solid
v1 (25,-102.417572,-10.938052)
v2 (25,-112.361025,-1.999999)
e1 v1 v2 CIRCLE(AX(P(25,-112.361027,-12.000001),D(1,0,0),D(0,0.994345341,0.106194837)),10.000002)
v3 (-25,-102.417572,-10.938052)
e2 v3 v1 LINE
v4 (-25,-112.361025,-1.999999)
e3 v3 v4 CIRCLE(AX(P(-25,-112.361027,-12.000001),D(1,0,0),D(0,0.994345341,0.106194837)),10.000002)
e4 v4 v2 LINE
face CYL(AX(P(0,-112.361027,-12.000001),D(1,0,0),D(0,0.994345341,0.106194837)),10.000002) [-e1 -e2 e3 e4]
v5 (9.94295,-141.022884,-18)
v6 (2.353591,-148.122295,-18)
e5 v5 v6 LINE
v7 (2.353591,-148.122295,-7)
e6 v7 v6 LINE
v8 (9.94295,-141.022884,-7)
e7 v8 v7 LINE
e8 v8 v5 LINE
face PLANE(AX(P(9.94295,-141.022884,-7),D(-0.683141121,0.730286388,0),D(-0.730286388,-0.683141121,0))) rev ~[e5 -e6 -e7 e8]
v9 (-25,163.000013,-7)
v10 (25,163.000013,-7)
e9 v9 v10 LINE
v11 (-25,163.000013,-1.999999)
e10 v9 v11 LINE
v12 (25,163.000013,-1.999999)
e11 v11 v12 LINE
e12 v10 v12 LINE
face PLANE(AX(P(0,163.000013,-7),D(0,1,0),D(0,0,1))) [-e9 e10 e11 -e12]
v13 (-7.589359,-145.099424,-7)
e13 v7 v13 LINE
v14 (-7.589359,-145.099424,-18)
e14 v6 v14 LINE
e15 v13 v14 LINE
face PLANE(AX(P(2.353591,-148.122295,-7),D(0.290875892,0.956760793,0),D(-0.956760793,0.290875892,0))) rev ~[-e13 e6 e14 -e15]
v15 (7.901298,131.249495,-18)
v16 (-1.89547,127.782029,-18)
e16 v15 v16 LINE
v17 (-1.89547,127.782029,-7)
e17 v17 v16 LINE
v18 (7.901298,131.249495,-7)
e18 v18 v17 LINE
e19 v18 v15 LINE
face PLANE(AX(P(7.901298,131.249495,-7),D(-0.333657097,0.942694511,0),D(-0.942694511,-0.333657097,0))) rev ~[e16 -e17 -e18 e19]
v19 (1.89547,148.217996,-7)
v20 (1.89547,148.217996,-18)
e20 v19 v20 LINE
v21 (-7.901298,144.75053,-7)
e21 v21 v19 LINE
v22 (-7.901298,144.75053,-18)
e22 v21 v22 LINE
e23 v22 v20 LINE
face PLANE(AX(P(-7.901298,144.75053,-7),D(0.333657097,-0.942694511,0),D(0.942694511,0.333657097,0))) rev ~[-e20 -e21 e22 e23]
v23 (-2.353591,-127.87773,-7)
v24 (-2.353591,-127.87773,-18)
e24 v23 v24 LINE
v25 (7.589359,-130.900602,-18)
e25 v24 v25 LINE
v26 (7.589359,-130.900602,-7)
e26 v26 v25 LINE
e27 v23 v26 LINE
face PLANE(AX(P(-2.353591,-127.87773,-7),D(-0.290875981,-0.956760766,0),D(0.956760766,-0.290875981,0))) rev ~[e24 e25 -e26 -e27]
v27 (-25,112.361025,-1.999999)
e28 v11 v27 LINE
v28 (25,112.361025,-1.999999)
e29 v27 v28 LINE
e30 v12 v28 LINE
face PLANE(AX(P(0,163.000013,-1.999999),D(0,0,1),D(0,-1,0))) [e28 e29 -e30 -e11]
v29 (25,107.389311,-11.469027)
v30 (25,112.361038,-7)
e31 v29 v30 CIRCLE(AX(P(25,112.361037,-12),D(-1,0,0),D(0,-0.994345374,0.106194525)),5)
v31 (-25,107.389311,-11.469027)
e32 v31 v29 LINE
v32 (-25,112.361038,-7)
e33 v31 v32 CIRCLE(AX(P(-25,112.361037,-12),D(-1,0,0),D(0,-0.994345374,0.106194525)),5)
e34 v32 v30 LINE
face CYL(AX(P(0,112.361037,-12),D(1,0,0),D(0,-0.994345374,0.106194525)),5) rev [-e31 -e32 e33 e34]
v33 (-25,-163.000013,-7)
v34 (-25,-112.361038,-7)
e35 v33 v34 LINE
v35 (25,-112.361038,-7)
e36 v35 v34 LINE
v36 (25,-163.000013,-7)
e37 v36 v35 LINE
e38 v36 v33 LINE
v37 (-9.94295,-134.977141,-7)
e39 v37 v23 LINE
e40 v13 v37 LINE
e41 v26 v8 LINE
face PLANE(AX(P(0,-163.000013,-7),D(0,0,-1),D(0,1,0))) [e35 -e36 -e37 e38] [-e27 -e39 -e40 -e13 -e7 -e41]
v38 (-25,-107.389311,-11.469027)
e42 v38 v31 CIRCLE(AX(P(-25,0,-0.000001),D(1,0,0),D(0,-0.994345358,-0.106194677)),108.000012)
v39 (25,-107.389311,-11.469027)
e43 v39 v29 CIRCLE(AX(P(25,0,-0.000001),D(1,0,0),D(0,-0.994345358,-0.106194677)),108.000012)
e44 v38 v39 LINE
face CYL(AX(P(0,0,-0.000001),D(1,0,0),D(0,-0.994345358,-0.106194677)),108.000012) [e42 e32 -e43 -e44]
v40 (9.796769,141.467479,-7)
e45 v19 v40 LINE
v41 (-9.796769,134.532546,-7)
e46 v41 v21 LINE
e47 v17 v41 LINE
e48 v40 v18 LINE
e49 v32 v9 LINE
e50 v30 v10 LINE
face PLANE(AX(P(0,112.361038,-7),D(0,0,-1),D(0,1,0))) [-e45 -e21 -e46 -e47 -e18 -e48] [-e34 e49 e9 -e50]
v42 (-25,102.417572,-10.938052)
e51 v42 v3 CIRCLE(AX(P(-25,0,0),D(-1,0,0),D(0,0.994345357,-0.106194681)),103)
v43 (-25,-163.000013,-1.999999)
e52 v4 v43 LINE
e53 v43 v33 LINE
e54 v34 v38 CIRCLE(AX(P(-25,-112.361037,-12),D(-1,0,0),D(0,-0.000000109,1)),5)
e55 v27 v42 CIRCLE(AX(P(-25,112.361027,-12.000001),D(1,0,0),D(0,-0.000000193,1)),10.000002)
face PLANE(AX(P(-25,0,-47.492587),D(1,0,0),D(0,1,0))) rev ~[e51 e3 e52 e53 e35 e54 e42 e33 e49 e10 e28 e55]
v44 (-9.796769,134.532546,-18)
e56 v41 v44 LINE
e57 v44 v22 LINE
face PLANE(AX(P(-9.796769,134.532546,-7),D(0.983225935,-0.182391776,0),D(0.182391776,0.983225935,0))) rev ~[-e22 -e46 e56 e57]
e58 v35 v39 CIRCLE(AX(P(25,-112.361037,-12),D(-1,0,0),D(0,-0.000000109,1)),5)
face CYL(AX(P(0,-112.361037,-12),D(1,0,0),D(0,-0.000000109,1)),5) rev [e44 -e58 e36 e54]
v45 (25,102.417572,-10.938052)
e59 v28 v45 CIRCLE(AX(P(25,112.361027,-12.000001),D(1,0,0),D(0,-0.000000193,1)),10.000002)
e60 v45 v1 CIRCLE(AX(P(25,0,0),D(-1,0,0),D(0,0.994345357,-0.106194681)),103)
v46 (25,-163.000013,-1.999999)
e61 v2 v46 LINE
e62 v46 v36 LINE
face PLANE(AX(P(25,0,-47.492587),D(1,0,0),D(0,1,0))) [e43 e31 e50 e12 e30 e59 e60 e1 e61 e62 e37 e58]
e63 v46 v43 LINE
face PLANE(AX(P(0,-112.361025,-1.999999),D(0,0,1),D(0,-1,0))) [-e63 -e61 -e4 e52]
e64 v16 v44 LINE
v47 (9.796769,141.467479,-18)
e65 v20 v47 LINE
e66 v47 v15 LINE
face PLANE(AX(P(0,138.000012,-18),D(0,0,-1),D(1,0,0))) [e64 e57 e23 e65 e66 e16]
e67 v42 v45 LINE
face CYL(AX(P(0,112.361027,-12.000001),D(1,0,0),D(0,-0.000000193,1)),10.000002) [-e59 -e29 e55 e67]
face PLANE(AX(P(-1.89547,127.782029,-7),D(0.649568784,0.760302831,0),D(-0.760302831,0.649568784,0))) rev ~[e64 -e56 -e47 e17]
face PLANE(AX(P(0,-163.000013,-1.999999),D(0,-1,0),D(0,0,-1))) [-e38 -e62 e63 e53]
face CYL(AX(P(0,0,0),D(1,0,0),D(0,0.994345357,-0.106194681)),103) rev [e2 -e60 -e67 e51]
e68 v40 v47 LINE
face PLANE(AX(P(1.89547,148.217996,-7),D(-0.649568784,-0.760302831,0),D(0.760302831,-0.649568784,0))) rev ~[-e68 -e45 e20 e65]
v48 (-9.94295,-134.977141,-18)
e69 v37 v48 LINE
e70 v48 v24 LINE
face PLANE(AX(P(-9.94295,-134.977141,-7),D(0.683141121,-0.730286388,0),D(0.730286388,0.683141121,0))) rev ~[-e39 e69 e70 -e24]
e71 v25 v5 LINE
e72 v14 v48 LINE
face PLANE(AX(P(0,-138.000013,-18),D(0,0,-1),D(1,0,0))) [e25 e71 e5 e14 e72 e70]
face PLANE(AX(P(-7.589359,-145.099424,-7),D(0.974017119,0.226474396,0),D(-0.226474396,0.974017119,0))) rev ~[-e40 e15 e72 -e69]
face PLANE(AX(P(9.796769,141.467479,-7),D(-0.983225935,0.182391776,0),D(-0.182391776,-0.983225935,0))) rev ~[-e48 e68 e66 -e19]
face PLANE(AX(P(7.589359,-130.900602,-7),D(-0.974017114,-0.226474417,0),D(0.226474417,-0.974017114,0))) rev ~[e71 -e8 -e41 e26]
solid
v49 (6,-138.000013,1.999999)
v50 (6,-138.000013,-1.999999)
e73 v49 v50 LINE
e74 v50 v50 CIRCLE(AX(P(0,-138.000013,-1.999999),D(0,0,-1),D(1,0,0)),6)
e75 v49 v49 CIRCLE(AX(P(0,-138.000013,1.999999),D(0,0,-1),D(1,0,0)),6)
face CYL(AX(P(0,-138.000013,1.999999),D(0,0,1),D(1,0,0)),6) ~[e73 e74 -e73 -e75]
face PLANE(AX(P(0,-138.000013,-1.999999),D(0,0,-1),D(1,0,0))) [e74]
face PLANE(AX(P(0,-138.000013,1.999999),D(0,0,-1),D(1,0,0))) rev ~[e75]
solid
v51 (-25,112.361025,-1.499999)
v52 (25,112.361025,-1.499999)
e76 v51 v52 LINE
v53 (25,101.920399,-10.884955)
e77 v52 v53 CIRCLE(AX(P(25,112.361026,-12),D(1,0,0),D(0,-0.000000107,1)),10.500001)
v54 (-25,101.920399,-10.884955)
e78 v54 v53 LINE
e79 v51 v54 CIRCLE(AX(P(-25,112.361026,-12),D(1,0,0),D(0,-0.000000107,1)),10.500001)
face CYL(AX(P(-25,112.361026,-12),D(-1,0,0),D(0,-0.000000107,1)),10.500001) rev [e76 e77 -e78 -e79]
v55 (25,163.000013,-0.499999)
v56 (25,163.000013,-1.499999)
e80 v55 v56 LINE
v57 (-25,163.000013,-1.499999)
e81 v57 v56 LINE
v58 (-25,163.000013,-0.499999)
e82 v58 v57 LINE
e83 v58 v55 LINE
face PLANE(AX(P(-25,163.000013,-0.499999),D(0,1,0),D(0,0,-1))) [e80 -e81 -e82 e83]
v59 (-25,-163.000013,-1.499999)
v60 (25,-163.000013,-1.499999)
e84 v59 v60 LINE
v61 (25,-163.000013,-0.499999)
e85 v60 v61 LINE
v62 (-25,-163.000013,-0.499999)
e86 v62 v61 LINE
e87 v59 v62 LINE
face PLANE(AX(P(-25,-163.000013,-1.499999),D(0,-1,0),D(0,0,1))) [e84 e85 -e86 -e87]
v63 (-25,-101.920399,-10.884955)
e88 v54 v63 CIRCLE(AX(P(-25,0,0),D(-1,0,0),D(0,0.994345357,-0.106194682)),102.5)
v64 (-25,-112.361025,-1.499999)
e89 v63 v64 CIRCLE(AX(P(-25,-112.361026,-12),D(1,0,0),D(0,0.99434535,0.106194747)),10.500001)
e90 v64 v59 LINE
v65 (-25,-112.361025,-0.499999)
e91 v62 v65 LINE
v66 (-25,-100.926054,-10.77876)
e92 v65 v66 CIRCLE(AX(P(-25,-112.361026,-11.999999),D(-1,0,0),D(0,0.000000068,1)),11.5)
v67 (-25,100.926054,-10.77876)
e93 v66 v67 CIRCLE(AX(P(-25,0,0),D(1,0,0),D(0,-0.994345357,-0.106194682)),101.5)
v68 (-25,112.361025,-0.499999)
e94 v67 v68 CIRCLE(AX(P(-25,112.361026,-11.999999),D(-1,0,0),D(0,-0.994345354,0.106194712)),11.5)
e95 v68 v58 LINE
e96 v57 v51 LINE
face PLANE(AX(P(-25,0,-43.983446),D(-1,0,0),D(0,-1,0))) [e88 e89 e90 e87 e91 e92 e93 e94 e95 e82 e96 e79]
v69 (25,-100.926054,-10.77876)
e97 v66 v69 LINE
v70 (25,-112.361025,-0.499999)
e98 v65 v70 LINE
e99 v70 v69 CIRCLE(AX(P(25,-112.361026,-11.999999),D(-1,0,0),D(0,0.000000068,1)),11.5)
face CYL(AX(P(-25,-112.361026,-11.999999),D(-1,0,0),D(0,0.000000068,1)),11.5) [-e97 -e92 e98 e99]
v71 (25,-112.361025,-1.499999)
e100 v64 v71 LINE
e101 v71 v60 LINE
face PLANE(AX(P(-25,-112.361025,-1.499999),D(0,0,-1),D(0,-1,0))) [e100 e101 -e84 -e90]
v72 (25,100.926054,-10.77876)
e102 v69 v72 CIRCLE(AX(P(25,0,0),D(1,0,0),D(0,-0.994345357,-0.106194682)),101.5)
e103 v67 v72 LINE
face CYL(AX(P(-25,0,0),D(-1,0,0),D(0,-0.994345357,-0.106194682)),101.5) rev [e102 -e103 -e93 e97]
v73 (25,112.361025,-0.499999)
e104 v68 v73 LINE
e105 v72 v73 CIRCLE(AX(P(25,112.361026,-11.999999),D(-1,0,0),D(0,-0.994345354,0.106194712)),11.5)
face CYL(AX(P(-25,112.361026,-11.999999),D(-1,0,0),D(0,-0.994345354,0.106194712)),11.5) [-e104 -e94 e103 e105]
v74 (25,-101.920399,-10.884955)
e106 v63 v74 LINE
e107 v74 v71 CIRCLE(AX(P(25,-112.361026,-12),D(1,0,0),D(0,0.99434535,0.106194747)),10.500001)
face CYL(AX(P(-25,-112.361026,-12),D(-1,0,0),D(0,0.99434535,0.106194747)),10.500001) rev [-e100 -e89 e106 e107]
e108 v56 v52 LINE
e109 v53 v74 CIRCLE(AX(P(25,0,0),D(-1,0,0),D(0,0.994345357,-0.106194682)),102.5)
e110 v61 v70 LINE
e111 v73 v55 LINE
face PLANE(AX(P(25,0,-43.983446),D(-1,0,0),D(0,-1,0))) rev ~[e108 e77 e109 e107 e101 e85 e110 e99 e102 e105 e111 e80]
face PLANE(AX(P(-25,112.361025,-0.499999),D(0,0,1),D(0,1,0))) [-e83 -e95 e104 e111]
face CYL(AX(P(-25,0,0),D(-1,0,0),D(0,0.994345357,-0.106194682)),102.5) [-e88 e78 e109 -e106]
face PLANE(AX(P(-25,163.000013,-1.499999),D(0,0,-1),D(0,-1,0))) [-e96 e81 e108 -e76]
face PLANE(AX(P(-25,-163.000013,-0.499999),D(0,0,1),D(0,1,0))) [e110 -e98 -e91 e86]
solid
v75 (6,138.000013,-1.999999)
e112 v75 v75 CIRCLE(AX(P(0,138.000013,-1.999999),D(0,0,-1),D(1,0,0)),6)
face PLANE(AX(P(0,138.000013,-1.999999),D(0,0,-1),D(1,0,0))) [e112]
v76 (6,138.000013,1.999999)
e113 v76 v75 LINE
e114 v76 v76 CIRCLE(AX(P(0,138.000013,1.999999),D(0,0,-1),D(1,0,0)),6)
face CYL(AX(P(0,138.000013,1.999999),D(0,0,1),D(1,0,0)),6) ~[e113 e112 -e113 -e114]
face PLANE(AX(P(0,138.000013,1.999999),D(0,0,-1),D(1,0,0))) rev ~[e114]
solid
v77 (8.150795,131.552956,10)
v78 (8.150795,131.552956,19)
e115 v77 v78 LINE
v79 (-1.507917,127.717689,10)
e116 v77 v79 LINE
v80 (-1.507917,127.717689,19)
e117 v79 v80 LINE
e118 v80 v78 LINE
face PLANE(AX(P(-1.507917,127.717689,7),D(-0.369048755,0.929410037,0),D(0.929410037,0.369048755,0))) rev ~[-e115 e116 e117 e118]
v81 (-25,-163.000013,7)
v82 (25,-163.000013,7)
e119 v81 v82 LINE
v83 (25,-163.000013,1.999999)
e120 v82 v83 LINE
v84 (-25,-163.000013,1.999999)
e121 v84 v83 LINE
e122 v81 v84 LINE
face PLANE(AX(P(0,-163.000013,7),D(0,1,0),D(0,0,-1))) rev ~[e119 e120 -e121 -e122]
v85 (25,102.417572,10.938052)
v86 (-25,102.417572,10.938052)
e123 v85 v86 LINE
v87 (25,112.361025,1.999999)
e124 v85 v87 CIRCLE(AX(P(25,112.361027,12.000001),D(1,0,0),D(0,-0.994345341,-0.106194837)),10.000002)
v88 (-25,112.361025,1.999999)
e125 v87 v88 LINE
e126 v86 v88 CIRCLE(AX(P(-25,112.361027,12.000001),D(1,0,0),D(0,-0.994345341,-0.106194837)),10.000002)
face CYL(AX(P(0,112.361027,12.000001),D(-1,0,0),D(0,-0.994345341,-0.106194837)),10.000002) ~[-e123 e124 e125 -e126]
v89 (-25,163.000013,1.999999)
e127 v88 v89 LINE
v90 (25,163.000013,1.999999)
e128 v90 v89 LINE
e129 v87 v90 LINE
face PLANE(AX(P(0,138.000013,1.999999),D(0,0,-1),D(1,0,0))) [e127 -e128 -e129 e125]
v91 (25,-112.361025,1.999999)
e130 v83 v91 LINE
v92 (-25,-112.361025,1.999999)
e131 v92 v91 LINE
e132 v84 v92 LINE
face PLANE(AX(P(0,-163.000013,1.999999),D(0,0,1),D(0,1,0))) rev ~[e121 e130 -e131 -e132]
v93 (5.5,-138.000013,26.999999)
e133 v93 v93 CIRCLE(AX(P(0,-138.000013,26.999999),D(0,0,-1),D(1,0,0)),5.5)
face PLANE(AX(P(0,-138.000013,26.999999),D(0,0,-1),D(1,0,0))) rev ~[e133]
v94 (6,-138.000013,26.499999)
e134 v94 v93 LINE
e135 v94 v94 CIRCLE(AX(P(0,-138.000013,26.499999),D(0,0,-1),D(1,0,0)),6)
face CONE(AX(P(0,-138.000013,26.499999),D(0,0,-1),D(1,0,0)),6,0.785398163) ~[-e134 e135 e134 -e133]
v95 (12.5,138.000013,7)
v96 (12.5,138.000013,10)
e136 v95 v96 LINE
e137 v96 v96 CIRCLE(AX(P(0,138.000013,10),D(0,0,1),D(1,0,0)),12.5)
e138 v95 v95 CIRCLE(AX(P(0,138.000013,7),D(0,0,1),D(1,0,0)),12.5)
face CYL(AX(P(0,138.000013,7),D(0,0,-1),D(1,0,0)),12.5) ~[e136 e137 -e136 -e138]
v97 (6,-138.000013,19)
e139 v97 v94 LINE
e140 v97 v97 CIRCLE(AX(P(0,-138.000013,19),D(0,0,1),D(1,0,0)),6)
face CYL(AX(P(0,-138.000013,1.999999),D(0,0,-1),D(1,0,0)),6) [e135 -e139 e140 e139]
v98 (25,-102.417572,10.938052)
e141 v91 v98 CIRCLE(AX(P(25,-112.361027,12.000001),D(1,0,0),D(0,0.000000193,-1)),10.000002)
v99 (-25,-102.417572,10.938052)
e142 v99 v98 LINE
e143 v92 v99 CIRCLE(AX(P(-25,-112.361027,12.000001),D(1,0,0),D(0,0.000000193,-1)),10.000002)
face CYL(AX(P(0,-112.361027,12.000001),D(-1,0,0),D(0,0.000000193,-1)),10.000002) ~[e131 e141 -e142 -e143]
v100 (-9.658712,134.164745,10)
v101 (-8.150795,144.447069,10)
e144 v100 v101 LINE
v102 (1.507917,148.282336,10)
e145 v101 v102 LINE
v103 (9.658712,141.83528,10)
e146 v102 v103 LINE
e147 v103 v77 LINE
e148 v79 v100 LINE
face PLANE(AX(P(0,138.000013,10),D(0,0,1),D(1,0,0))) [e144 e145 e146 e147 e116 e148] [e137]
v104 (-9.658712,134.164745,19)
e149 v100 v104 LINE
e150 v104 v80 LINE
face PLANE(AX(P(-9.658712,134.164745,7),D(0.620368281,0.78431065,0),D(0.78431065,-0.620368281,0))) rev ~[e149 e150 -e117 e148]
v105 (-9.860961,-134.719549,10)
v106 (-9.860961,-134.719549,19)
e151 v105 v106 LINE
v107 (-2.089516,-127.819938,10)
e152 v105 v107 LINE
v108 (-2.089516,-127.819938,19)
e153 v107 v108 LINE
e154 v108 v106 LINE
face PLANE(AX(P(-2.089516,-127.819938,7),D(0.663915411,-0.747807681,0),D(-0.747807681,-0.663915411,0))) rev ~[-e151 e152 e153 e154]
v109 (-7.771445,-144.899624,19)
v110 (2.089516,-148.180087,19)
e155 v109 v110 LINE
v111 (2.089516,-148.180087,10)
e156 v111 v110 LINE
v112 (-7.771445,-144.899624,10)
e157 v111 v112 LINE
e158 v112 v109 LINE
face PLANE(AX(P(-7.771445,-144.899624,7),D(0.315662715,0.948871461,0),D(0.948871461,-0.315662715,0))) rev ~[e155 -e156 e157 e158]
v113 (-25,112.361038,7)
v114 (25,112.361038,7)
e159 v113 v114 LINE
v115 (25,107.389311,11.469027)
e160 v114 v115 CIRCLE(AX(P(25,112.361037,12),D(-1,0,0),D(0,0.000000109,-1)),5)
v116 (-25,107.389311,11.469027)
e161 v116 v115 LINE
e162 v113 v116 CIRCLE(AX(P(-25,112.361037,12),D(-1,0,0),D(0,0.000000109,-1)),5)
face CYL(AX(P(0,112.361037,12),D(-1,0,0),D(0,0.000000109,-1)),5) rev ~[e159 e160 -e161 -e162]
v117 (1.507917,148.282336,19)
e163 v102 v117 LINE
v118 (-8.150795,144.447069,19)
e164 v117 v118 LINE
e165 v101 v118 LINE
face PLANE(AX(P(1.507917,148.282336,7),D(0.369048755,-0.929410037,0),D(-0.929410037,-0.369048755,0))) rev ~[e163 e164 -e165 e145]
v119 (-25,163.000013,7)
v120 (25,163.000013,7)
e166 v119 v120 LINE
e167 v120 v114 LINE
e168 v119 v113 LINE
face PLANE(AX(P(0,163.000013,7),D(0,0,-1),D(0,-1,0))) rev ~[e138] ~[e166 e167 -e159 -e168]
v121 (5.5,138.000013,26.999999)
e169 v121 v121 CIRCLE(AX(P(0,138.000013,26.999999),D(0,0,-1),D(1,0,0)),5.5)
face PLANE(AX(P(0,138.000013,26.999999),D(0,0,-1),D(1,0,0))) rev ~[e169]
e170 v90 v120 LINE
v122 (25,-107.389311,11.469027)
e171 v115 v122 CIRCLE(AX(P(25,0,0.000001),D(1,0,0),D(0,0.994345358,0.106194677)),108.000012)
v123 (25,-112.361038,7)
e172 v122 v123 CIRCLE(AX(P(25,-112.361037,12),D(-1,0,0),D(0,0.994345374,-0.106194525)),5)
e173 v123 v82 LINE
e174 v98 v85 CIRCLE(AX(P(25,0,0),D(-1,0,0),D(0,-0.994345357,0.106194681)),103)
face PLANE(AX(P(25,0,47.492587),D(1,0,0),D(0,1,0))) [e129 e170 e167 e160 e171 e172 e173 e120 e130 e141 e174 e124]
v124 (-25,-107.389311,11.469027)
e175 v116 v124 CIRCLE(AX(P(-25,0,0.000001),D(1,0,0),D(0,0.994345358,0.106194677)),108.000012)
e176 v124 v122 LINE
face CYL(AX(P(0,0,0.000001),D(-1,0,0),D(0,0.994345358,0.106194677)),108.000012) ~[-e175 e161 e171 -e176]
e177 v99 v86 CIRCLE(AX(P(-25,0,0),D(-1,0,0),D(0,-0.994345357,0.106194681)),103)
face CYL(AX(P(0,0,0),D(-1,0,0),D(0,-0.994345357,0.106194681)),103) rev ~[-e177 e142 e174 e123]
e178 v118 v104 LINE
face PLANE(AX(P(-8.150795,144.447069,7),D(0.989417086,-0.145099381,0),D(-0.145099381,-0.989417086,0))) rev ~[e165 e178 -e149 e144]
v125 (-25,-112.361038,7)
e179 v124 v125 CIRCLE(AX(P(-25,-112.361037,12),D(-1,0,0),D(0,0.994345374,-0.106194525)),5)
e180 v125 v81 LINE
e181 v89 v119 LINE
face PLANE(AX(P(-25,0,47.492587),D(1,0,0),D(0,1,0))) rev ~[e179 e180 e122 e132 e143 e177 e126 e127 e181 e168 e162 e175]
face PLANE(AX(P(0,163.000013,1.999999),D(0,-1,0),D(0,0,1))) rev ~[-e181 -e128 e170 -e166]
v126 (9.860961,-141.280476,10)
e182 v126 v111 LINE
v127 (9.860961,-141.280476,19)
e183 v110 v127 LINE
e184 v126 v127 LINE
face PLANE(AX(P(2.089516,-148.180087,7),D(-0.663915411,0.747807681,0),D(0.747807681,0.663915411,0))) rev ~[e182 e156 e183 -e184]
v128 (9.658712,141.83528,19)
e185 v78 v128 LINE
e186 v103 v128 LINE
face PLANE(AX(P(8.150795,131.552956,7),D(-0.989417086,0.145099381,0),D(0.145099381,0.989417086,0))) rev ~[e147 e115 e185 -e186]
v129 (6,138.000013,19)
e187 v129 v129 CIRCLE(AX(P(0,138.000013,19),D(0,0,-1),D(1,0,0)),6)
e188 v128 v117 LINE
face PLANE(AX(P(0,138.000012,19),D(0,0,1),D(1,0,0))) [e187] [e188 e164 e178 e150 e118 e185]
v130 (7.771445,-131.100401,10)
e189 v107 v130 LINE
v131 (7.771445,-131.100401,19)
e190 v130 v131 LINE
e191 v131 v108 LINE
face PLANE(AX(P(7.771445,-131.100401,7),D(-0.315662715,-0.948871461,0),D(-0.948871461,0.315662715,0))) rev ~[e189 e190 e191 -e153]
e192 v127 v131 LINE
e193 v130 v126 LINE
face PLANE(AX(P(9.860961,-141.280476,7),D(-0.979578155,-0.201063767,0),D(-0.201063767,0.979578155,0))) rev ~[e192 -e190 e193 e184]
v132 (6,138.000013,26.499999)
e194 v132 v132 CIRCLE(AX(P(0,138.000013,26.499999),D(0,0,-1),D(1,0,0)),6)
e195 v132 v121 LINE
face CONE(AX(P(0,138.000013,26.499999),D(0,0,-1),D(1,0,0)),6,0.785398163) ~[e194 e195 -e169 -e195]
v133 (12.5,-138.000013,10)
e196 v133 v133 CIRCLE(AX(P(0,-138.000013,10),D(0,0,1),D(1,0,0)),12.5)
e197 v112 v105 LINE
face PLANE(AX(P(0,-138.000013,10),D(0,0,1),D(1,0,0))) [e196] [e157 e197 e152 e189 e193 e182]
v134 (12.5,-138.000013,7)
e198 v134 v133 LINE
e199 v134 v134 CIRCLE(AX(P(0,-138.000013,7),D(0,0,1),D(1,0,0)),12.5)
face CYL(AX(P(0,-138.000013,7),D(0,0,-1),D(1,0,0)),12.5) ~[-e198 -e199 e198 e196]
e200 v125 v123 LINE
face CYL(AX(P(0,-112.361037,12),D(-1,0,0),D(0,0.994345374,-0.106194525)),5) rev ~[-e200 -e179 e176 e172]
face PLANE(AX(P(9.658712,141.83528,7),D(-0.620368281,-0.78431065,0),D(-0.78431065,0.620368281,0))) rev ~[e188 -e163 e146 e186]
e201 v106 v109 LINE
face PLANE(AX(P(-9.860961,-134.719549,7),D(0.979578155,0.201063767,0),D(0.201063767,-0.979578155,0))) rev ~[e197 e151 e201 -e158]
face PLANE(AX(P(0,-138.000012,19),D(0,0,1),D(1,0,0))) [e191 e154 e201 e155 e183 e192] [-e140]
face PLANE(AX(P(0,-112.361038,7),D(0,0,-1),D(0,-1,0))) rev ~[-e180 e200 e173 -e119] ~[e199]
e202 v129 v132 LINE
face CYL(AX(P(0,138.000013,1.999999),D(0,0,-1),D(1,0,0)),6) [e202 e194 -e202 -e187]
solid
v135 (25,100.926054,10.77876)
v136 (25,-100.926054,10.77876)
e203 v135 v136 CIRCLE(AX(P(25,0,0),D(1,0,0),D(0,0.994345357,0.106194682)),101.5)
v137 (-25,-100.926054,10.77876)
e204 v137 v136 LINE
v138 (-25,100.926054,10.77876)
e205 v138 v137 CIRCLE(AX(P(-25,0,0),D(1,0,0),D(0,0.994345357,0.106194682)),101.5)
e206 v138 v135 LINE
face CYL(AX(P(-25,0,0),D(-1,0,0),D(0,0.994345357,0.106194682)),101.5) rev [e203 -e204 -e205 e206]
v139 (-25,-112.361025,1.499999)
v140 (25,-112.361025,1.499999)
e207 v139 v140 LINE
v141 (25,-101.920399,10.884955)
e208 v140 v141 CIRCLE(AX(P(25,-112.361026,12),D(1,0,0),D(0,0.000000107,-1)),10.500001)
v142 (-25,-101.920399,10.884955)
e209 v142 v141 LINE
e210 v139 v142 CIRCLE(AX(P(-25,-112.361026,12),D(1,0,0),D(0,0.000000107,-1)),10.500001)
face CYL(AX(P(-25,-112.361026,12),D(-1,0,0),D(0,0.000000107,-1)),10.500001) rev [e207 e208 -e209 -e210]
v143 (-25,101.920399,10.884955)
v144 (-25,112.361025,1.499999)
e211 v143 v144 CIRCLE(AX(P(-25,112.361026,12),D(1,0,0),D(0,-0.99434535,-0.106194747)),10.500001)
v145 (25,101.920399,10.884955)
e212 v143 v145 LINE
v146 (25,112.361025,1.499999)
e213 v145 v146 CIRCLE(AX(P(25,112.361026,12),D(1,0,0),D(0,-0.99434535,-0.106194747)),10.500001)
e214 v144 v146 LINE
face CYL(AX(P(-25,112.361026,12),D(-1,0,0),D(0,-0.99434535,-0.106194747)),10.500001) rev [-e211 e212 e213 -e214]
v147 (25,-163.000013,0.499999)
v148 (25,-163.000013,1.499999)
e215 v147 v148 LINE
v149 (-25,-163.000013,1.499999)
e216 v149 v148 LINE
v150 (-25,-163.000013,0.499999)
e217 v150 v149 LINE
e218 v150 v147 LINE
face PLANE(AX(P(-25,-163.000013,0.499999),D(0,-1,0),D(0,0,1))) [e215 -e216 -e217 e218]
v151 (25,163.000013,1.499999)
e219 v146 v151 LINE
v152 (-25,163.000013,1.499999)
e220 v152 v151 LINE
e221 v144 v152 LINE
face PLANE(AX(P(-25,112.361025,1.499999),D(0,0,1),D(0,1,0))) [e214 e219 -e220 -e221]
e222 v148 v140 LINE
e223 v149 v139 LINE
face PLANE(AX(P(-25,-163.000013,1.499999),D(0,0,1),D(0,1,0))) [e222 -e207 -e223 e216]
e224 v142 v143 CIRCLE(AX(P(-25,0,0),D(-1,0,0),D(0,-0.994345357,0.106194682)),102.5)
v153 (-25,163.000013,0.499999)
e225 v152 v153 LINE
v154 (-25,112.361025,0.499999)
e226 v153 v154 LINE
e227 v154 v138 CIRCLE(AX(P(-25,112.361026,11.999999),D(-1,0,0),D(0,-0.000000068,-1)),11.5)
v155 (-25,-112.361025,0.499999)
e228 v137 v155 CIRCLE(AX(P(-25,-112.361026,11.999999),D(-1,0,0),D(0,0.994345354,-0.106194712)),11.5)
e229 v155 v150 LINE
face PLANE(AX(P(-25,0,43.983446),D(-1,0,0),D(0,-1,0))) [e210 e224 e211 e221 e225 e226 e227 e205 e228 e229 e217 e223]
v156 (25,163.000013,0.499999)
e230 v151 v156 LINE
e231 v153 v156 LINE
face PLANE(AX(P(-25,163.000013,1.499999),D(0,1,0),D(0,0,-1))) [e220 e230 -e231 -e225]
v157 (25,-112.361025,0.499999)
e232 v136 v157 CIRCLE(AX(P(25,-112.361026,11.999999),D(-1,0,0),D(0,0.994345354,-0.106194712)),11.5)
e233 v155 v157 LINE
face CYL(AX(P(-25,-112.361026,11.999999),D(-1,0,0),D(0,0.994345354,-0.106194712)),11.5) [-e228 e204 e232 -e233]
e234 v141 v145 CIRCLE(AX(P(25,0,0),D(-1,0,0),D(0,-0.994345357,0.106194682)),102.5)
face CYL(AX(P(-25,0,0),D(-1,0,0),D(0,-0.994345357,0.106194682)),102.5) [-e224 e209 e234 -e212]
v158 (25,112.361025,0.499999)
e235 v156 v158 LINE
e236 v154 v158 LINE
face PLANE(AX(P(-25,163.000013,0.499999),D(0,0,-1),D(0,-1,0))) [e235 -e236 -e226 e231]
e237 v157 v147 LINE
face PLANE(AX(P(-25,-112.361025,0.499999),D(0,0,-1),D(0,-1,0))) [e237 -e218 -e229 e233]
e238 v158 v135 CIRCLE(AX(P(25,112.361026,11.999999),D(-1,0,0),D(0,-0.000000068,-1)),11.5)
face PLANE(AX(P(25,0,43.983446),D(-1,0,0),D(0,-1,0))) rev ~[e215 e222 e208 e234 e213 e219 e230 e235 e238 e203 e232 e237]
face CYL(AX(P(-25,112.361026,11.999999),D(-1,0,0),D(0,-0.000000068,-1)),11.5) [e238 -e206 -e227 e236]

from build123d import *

# Parameters (mm, degrees)
F1_DEPTH  = 25
F2_R      = 6
F3_DEPTH  = 12
F2_R_2    = 12.5
F4_DEPTH  = 3
F5_R      = 6
F6_DEPTH  = 25
F7_R      = 6
F8_DEPTH  = 11
F8_FACE_R = 6
F9_DEPTH  = 11
F10_R     = 6
F11_DEPTH = 3.999998
F13_DEPTH = 50
F14_SIZE  = 0.5


with BuildPart() as f1:
    # F0 (on Right) → F1 (new body, symmetric)
    with BuildSketch(Plane.YZ):
        with BuildLine():
            Line((163.000013, 1.999999), (163.000013, 7))
            Line((163.000013, 7), (112.361038, 7))
            ThreePointArc((112.361038, 7), (109.018499, 8.281474), (107.389311, 11.469027))
            ThreePointArc((107.389311, 11.469027), (0, 108.000013), (-107.389311, 11.469027))
            ThreePointArc((-107.389311, 11.469027), (-109.018499, 8.281474), (-112.361038, 7))
            Line((-112.361038, 7), (-163.000013, 7))
            Line((-163.000013, 7), (-163.000013, 1.999999))
            Line((-163.000013, 1.999999), (-112.361025, 1.999999))
            ThreePointArc((-112.361025, 1.999999), (-105.675948, 4.562948), (-102.417572, 10.938052))
            ThreePointArc((-102.417572, 10.938052), (0, 103), (102.417572, 10.938052))
            ThreePointArc((102.417572, 10.938052), (105.675948, 4.562948), (112.361025, 1.999999))
            Line((112.361025, 1.999999), (163.000013, 1.999999))
        make_face()
        with BuildLine():
            ThreePointArc((-112.361038, -7), (-109.018499, -8.281474), (-107.389311, -11.469027))
            ThreePointArc((-107.389311, -11.469027), (0, -108.000013), (107.389311, -11.469027))
            ThreePointArc((107.389311, -11.469027), (109.018499, -8.281474), (112.361038, -7))
            Line((112.361038, -7), (163.000013, -7))
            Line((163.000013, -7), (163.000013, -1.999999))
            Line((163.000013, -1.999999), (112.361025, -1.999999))
            ThreePointArc((112.361025, -1.999999), (105.675948, -4.562948), (102.417572, -10.938052))
            ThreePointArc((102.417572, -10.938052), (0, -103), (-102.417572, -10.938052))
            ThreePointArc((-102.417572, -10.938052), (-105.675948, -4.562948), (-112.361025, -1.999999))
            Line((-112.361025, -1.999999), (-163.000013, -1.999999))
            Line((-163.000013, -1.999999), (-163.000013, -7))
            Line((-163.000013, -7), (-112.361038, -7))
        make_face()
    extrude(amount=F1_DEPTH, both=True)

    # F2 (on face) → F3 (join)
    with BuildSketch(Plane.XY.offset(7)):
        Polygon((-9.860961, -134.719549), (-7.771445, -144.899624), (2.089516, -148.180087), (9.860961, -141.280476), (7.771445, -131.100401), (-2.089516, -127.819938), align=None)
        with Locations((0, -138.000013)):
            Circle(F2_R, mode=Mode.SUBTRACT)
        Polygon((-9.658712, 134.164745), (-1.507917, 127.717689), (8.150795, 131.552956), (9.658712, 141.83528), (1.507917, 148.282336), (-8.150795, 144.447069), align=None)
        with Locations((0, 138.000013)):
            Circle(F2_R, mode=Mode.SUBTRACT)
        with Locations((0, 138.000013)):
            Circle(F2_R)
    extrude(amount=F3_DEPTH)

    # F2 (on face) → F4 (join)
    with BuildSketch(Plane.XY.offset(7)):
        with Locations((0, -138.000013)):
            Circle(F2_R_2)
        Polygon((2.089516, -148.180087), (-7.771445, -144.899624), (-9.860961, -134.719549), (-2.089516, -127.819938), (7.771445, -131.100401), (9.860961, -141.280476), align=None, mode=Mode.SUBTRACT)
        with Locations((0, 138.000013)):
            Circle(F2_R_2)
        Polygon((8.150795, 131.552956), (-1.507917, 127.717689), (-9.658712, 134.164745), (-8.150795, 144.447069), (1.507917, 148.282336), (9.658712, 141.83528), align=None, mode=Mode.SUBTRACT)
    extrude(amount=F4_DEPTH)

    # F5 (on face) → F6 (join)
    with BuildSketch(Plane(origin=(0, 0, 1.999999), x_dir=(1, 0, 0), z_dir=(0, 0, -1))):
        with Locations((0, -138.000013)):
            Circle(F5_R)
        with Locations((0, 138.000013)):
            Circle(F5_R)
    extrude(amount=-F6_DEPTH)

    # F7 (on face) → F8 (join)
    with BuildSketch(Plane(origin=(0, 0, -7), x_dir=(1, 0, 0), z_dir=(0, 0, -1))):
        Polygon((9.796769, -141.467479), (7.901298, -131.249495), (-1.89547, -127.782029), (-9.796769, -134.532546), (-7.901298, -144.75053), (1.89547, -148.217996), align=None)
        with Locations((0, -138.000013)):
            Circle(F7_R, mode=Mode.SUBTRACT)
        Polygon((-9.94295, 134.977141), (-2.353591, 127.87773), (7.589359, 130.900602), (9.94295, 141.022884), (2.353591, 148.122295), (-7.589359, 145.099424), align=None)
        with Locations((0, 138.000013)):
            Circle(F7_R, mode=Mode.SUBTRACT)
    extrude(amount=F8_DEPTH)

    # F8_face (on face) → F9 (join, through all)
    with BuildSketch(Plane(origin=(0, -138.000013, -7), x_dir=(1, 0, 0), z_dir=(0, 0, -1))):
        Circle(F8_FACE_R)
        with Locations((0, -276.000025)):
            Circle(F8_FACE_R)
    extrude(amount=F9_DEPTH)

    # F14
    f14_edges = [f1.edges().sort_by_distance(p)[0] for p in [
        (-6, -138.000013, 26.999999),
        (-6, 138.000013, 26.999999),
    ]]
    chamfer(f14_edges, length=F14_SIZE)


with BuildPart() as f11:
    # F10 (on face) → F11 (new body, through all)
    with BuildSketch(Plane(origin=(0, 0, 1.999999), x_dir=(1, 0, 0), z_dir=(0, 0, -1))):
        with Locations((0, -138.000013)):
            Circle(F10_R)
        with Locations((0, 138.000013)):
            Circle(F10_R)
    extrude(amount=F11_DEPTH)


with BuildPart() as f13:
    # F12 (on face) → F13 (new body, through all)
    with BuildSketch(Plane(origin=(-25, 0, 0), x_dir=(0, -1, 0), z_dir=(-1, 0, 0))):
        with BuildLine():
            Line((163.000013, 1.499999), (112.361025, 1.499999))
            ThreePointArc((112.361025, 1.499999), (105.341694, 4.191095), (101.920399, 10.884955))
            ThreePointArc((101.920399, 10.884955), (0, 102.5), (-101.920399, 10.884955))
            ThreePointArc((-101.920399, 10.884955), (-105.341694, 4.191095), (-112.361025, 1.499999))
            Line((-112.361025, 1.499999), (-163.000013, 1.499999))
            Line((-163.000013, 1.499999), (-163.000013, 0.499999))
            Line((-163.000013, 0.499999), (-112.361025, 0.499999))
            ThreePointArc((-112.361025, 0.499999), (-104.673186, 3.44739), (-100.926054, 10.77876))
            ThreePointArc((-100.926054, 10.77876), (0, 101.5), (100.926054, 10.77876))
            ThreePointArc((100.926054, 10.77876), (104.673186, 3.44739), (112.361025, 0.499999))
            Line((112.361025, 0.499999), (163.000013, 0.499999))
            Line((163.000013, 0.499999), (163.000013, 1.499999))
        make_face()
        with BuildLine():
            ThreePointArc((101.920399, -10.884955), (105.341694, -4.191095), (112.361025, -1.499999))
            Line((112.361025, -1.499999), (163.000013, -1.499999))
            Line((163.000013, -1.499999), (163.000013, -0.499999))
            Line((163.000013, -0.499999), (112.361025, -0.499999))
            ThreePointArc((112.361025, -0.499999), (104.673186, -3.44739), (100.926054, -10.77876))
            ThreePointArc((100.926054, -10.77876), (0, -101.5), (-100.926054, -10.77876))
            ThreePointArc((-100.926054, -10.77876), (-104.673186, -3.44739), (-112.361025, -0.499999))
            Line((-112.361025, -0.499999), (-163.000013, -0.499999))
            Line((-163.000013, -0.499999), (-163.000013, -1.499999))
            Line((-163.000013, -1.499999), (-112.361025, -1.499999))
            ThreePointArc((-112.361025, -1.499999), (-105.341694, -4.191095), (-101.920399, -10.884955))
            ThreePointArc((-101.920399, -10.884955), (0, -102.5), (101.920399, -10.884955))
        make_face()
    extrude(amount=-F13_DEPTH)


solid = Compound([f1.part, f11.part, f13.part])
